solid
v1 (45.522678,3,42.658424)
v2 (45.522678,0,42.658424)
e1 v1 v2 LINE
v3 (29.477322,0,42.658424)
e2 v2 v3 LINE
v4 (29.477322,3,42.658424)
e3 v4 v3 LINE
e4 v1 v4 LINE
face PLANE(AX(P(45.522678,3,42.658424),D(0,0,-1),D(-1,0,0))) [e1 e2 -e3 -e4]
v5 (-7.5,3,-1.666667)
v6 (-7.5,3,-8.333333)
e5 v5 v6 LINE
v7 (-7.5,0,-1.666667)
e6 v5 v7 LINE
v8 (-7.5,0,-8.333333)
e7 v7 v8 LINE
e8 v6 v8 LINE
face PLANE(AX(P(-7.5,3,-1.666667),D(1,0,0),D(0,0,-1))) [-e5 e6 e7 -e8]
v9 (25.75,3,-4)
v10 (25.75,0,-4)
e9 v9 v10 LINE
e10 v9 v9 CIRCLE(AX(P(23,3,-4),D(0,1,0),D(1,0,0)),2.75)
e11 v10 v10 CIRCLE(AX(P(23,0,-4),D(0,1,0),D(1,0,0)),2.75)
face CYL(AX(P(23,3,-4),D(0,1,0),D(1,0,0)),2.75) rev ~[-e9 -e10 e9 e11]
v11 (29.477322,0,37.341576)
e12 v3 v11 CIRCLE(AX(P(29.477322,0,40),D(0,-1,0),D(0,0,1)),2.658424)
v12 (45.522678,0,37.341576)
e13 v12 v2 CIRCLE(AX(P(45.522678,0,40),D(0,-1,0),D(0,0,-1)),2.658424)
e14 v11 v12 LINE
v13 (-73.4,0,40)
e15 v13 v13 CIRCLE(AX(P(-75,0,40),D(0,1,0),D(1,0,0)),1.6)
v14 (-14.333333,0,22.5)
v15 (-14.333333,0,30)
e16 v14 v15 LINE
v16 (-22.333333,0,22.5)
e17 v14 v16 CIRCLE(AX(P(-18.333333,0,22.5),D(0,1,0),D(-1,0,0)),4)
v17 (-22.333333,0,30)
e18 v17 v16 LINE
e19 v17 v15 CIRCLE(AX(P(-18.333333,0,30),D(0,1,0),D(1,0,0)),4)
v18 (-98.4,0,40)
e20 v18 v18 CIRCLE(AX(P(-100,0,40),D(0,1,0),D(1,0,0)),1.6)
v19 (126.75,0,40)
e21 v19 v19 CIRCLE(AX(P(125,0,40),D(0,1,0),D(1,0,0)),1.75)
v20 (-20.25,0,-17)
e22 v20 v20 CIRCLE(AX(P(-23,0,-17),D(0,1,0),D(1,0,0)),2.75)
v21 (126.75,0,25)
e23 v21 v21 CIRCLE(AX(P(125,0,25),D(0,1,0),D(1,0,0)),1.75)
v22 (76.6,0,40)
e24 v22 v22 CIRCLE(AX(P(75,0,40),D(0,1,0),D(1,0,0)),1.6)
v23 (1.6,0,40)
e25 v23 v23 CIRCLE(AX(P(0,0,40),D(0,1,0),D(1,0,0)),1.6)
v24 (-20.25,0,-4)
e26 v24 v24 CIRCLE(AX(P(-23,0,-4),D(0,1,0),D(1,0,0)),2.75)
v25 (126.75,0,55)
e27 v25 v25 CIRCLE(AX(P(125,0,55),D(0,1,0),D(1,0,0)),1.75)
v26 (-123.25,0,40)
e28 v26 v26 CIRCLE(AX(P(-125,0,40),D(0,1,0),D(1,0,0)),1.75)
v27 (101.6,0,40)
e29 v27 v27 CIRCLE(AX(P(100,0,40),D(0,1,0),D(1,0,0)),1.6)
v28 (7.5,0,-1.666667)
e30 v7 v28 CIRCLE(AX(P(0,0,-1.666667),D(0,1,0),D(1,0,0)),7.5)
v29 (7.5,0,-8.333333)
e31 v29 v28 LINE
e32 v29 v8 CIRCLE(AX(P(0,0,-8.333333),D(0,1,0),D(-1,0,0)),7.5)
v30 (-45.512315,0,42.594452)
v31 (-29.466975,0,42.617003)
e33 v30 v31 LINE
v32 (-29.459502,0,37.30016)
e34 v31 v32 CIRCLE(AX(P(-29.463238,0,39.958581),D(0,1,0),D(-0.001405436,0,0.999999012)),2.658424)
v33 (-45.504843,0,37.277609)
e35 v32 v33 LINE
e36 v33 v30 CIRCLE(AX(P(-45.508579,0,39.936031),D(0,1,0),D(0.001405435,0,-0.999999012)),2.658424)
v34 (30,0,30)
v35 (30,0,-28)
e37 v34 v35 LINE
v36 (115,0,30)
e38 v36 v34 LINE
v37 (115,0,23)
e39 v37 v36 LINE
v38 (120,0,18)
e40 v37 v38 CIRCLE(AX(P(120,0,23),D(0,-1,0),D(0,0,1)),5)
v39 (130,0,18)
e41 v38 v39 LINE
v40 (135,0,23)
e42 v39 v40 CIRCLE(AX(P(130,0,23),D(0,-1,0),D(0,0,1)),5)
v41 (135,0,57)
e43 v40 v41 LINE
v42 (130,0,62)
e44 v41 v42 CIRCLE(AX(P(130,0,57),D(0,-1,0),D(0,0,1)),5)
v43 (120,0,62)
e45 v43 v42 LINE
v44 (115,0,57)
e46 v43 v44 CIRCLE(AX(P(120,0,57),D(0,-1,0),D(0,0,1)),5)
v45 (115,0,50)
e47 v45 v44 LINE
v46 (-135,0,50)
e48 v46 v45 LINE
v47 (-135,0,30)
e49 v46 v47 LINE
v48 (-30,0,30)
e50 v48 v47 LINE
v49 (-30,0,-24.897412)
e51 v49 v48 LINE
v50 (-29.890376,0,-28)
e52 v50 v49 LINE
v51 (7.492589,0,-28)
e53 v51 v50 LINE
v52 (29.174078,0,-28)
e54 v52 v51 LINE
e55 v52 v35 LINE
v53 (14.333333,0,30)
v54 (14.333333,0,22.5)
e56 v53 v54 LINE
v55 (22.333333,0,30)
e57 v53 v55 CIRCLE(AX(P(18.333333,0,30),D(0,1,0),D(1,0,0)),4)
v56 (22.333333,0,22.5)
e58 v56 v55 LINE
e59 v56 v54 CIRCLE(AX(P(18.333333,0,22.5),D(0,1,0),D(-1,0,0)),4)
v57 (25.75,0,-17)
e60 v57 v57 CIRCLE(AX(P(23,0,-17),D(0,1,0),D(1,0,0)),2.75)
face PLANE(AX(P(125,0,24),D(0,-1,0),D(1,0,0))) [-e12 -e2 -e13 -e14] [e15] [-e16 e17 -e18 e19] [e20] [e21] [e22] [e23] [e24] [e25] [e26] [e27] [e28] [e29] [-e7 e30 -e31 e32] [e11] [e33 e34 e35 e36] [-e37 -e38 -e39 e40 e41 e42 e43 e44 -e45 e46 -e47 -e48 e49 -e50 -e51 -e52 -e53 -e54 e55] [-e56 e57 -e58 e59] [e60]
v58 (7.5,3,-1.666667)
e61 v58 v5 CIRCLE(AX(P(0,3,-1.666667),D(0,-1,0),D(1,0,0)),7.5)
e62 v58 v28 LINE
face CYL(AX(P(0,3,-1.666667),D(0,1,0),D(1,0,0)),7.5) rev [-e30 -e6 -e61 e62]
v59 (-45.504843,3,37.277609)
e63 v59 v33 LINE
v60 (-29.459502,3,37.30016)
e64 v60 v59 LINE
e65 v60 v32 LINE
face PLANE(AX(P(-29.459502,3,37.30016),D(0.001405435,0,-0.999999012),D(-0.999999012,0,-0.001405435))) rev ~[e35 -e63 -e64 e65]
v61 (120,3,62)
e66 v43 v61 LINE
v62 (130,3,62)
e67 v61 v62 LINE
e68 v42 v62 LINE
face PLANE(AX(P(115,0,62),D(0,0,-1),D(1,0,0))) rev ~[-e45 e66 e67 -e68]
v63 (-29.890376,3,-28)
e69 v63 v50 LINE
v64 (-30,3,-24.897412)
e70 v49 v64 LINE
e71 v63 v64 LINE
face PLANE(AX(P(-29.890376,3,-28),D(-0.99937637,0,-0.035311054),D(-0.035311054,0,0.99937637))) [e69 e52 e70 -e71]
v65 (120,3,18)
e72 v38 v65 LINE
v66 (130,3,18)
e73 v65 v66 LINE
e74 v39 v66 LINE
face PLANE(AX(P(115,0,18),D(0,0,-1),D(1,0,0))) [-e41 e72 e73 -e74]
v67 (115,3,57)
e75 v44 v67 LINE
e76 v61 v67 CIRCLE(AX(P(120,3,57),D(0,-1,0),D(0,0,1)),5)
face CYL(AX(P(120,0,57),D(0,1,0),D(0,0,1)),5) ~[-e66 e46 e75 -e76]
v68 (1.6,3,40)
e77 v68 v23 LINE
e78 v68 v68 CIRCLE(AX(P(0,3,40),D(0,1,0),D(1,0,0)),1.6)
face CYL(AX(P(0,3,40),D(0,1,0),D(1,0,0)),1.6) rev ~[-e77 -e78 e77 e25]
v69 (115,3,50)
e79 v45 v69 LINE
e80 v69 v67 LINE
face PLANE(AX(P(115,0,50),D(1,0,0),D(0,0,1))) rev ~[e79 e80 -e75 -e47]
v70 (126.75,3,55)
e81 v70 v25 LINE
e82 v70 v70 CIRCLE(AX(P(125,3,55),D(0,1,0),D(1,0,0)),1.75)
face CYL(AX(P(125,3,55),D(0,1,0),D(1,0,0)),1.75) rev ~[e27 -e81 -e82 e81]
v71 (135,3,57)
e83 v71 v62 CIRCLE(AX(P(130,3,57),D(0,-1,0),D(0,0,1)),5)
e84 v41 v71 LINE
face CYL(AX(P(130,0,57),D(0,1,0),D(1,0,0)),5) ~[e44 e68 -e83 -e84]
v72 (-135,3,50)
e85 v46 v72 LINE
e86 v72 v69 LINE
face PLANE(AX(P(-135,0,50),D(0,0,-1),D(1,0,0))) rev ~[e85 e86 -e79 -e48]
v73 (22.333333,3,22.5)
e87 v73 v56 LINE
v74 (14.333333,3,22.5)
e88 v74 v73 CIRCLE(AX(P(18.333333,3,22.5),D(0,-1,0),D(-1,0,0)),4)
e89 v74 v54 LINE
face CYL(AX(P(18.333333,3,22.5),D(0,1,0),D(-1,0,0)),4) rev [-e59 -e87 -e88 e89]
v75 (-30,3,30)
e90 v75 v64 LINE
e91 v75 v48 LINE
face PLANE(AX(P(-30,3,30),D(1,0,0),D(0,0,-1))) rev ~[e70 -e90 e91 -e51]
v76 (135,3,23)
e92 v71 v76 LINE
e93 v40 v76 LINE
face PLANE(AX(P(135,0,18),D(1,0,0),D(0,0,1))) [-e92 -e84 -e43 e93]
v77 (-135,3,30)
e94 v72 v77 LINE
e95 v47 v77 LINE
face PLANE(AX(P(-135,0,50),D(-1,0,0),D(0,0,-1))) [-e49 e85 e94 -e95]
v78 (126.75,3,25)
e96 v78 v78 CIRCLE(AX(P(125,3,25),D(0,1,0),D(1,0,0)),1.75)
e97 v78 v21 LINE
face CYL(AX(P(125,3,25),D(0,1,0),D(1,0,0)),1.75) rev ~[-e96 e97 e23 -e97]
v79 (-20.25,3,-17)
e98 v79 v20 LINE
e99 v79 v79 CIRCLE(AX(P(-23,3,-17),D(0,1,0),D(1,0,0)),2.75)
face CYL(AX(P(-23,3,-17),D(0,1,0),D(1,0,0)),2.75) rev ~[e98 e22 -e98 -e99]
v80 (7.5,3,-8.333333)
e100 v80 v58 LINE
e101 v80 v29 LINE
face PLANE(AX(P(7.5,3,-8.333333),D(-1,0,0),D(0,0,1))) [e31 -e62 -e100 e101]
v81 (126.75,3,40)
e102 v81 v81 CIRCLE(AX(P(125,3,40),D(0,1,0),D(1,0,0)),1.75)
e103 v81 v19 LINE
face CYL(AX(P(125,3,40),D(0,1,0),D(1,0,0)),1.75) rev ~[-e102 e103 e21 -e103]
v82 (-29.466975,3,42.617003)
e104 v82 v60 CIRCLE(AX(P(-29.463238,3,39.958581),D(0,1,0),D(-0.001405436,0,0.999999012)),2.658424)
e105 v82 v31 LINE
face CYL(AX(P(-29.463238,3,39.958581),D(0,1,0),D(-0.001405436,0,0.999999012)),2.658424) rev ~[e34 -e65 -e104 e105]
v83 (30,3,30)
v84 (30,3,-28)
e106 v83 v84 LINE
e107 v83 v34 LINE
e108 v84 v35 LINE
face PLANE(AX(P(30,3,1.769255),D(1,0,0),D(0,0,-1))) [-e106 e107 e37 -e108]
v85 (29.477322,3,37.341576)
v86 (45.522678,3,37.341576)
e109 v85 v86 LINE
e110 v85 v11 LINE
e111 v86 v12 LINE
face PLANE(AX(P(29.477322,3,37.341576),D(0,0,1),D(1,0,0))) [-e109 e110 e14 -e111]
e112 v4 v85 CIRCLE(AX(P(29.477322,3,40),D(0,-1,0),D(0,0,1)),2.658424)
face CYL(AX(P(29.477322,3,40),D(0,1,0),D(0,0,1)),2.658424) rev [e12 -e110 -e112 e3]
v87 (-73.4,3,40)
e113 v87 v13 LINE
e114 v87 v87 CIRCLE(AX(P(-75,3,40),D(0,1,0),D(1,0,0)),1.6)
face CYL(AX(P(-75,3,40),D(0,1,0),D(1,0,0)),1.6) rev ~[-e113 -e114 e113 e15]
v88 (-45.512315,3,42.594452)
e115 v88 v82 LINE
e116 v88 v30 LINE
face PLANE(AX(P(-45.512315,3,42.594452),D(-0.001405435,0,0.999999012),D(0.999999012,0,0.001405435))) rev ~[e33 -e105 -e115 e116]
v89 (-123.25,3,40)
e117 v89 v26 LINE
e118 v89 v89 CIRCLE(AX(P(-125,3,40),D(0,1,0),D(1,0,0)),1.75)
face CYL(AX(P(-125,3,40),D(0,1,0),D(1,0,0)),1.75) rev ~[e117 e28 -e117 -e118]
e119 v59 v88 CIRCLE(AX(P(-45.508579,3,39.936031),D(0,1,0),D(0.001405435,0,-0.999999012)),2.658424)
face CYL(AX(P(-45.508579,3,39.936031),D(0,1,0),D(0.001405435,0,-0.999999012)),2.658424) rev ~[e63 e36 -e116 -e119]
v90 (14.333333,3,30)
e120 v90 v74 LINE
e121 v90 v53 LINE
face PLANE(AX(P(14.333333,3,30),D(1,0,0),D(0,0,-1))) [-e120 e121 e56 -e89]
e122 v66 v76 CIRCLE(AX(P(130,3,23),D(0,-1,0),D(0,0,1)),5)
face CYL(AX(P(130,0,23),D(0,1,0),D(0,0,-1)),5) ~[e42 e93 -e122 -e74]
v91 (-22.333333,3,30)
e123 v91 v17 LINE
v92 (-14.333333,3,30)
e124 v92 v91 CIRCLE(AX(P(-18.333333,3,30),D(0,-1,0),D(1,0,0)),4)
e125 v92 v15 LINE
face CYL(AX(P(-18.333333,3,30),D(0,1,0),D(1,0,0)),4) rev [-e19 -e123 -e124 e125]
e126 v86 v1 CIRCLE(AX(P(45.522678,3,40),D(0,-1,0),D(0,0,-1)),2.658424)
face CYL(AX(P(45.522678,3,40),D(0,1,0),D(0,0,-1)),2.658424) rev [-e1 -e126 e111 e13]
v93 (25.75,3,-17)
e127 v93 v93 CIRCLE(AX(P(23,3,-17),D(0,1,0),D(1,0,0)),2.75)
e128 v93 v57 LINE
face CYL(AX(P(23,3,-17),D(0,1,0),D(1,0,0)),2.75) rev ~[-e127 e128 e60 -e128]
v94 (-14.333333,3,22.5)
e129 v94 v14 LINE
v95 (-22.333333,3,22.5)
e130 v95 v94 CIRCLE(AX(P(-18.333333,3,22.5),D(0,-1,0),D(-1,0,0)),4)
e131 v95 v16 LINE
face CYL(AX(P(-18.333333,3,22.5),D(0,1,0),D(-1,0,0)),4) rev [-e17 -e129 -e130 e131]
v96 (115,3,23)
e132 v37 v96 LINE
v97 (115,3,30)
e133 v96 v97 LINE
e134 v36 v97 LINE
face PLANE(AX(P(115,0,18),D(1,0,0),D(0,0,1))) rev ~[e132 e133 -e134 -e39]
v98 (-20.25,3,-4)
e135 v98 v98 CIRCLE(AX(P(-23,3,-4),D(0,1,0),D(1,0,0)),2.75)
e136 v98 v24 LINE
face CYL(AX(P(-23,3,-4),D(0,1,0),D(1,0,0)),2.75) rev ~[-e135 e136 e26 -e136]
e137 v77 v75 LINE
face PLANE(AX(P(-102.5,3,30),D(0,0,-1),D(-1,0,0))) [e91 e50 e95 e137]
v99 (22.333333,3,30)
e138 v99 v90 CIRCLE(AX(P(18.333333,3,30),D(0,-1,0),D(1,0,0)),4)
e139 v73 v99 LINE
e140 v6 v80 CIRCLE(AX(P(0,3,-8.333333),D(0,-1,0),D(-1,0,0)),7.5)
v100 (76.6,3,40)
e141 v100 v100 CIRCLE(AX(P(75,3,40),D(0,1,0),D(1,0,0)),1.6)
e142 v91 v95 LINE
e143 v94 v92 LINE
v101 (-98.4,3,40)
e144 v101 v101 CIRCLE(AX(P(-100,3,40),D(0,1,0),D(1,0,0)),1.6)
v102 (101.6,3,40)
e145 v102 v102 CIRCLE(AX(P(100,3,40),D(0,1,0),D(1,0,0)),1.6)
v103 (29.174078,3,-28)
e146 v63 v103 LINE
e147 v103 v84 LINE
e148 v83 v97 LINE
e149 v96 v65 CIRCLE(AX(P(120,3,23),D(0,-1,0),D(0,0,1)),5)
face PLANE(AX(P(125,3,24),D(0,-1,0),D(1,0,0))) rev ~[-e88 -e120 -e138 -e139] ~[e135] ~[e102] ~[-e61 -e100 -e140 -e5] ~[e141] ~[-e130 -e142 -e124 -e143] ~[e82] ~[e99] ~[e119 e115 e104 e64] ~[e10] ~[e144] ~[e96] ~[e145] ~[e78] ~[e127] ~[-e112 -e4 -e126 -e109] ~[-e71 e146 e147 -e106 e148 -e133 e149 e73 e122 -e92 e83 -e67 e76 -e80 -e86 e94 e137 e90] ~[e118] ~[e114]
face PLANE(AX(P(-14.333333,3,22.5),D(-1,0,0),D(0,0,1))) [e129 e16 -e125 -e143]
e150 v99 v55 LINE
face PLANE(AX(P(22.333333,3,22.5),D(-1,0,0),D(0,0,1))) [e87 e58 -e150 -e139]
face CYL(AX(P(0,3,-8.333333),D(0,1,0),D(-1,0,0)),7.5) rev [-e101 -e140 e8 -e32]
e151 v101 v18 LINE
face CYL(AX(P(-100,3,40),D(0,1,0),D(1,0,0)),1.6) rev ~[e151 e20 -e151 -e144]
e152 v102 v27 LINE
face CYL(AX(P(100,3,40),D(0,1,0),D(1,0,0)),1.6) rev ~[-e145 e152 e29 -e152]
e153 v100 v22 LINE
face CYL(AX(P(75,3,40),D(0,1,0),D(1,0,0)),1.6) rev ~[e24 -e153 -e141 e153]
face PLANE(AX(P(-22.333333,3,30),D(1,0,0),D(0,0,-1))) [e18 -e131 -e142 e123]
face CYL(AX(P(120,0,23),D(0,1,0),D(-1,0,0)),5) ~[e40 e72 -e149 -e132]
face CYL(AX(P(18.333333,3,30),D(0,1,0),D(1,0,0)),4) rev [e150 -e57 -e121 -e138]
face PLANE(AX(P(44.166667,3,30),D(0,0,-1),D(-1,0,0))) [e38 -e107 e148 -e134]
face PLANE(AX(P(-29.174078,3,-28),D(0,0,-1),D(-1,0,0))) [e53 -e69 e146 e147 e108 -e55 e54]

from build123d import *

# Parameters (mm, degrees)
SKETCH_1_W          = 270
SKETCH_1_H          = 100
EXTRUDE_1_DEPTH     = 3
SKETCH_2_R          = 1.6
SKETCH_2_R_2        = 1.75
CUT_EXTRUDE_1_DEPTH = 3
CUT_EXTRUDE_2_DEPTH = 10
SKETCH_5_R          = 2.75
CUT_EXTRUDE_3_DEPTH = 10
SKETCH_6_W          = 60
SKETCH_6_H          = 22
CUT_EXTRUDE_4_DEPTH = 10
EXTRUDE_2_DEPTH     = 3
EXTRUDE_3_DEPTH     = 3
EXTRUDE_4_DEPTH     = 3
EXTRUDE_6_DEPTH     = 3
EXTRUDE_7_DEPTH     = 3
SKETCH_13_W         = 0.825922264
SKETCH_13_H         = 3.102588021
EXTRUDE_8_DEPTH     = 3
EXTRUDE_9_DEPTH     = 3
EXTRUDE_10_DEPTH    = 3
SKETCH_16_W         = 8
SKETCH_16_H         = 5.433103104
EXTRUDE_11_DEPTH    = 3
EXTRUDE_12_DEPTH    = 3
SKETCH_18_W         = 1.102641526
SKETCH_18_H         = 13.538509376
EXTRUDE_13_DEPTH    = 3
EXTRUDE_14_DEPTH    = 3
EXTRUDE_15_DEPTH    = 3
EXTRUDE_16_DEPTH    = 3
EXTRUDE_17_DEPTH    = 3
CUT_EXTRUDE_5_DEPTH = 3
SKETCH_24_W         = 20
SKETCH_24_H         = 12
EXTRUDE_18_DEPTH    = 3
SKETCH_25_W         = 20
SKETCH_25_H         = 12
EXTRUDE_19_DEPTH    = 3
SKETCH_26_R         = 1.75
CUT_EXTRUDE_6_DEPTH = 4
FILLET_1_R          = 5


with BuildPart() as part:
    # 草图1 → 凸台-拉伸1 (new body)
    with BuildSketch(Plane(origin=(0, 0, 0), x_dir=(1, 0, 0), z_dir=(0, 1, 0))):
        Rectangle(SKETCH_1_W, SKETCH_1_H)
    extrude(amount=EXTRUDE_1_DEPTH)

    # 草图2 → 切除-拉伸1 (cut)
    with BuildSketch(Plane(origin=(0, 3, 0), x_dir=(1, 0, 0), z_dir=(0, 1, 0))):
        with Locations((-125, 40)):
            Circle(SKETCH_2_R)
        with Locations((-125, 0)):
            Circle(SKETCH_2_R)
        with Locations((125, 0)):
            Circle(SKETCH_2_R)
        with Locations((125, 40)):
            Circle(SKETCH_2_R)
        with Locations((-125, -40)):
            Circle(SKETCH_2_R_2)
        with Locations((-100, -40)):
            Circle(SKETCH_2_R)
        with Locations((-75, -40)):
            Circle(SKETCH_2_R)
        with Locations((0, -40)):
            Circle(SKETCH_2_R)
        with Locations((75, -40)):
            Circle(SKETCH_2_R)
        with Locations((100, -40)):
            Circle(SKETCH_2_R)
        with Locations((125, -40)):
            Circle(SKETCH_2_R_2)
    extrude(amount=-CUT_EXTRUDE_1_DEPTH, mode=Mode.SUBTRACT)

    # 草图4 → 切除-拉伸2 (cut)
    with BuildSketch(Plane(origin=(0, 3, 0), x_dir=(1, 0, 0), z_dir=(0, 1, 0))):
        with BuildLine():
            Line((102.5, -30), (102.5, -23.333333333))
            ThreePointArc((102.5, -23.333333333), (110, -15.833333333), (117.5, -23.333333333))
            Line((117.5, -23.333333333), (117.5, -30))
            ThreePointArc((117.5, -30), (110, -37.5), (102.5, -30))
        make_face()
        with BuildLine():
            Line((102.5, 1.666666667), (102.5, 8.333333333))
            ThreePointArc((102.5, 8.333333333), (110, 15.833333333), (117.5, 8.333333333))
            Line((117.5, 8.333333333), (117.5, 1.666666667))
            ThreePointArc((117.5, 1.666666667), (110, -5.833333333), (102.5, 1.666666667))
        make_face()
        with BuildLine():
            Line((102.5, 28.333333333), (102.5, 35))
            ThreePointArc((102.5, 35), (110, 42.5), (117.5, 35))
            Line((117.5, 35), (117.5, 28.333333333))
            ThreePointArc((117.5, 28.333333333), (110, 20.833333333), (102.5, 28.333333333))
        make_face()
        with BuildLine():
            Line((87.666666667, -30), (87.666666667, -22.5))
            ThreePointArc((87.666666667, -22.5), (91.666666667, -18.5), (95.666666667, -22.5))
            Line((95.666666667, -22.5), (95.666666667, -30))
            ThreePointArc((95.666666667, -30), (91.666666667, -34), (87.666666667, -30))
        make_face()
        with BuildLine():
            Line((87.666666667, -10.5), (87.666666667, -6.5))
            ThreePointArc((87.666666667, -6.5), (91.666666667, -2.5), (95.666666667, -6.5))
            Line((95.666666667, -6.5), (95.666666667, -10.5))
            ThreePointArc((95.666666667, -10.5), (91.666666667, -14.5), (87.666666667, -10.5))
        make_face()
        with BuildLine():
            Line((87.666666667, 8.5), (87.666666667, 12.5))
            ThreePointArc((87.666666667, 12.5), (91.666666667, 16.5), (95.666666667, 12.5))
            Line((95.666666667, 12.5), (95.666666667, 8.5))
            ThreePointArc((95.666666667, 8.5), (91.666666667, 4.5), (87.666666667, 8.5))
        make_face()
        with BuildLine():
            Line((95.666666667, 35), (95.666666667, 27.5))
            ThreePointArc((95.666666667, 27.5), (91.666666667, 23.5), (87.666666667, 27.5))
            Line((87.666666667, 27.5), (87.666666667, 35))
            ThreePointArc((87.666666667, 35), (91.666666667, 39), (95.666666667, 35))
        make_face()
        with BuildLine():
            Line((65.833333333, 1.666666667), (65.833333333, 8.333333333))
            ThreePointArc((65.833333333, 8.333333333), (73.333333333, 15.833333333), (80.833333333, 8.333333333))
            Line((80.833333333, 8.333333333), (80.833333333, 1.666666667))
            ThreePointArc((80.833333333, 1.666666667), (73.333333333, -5.833333333), (65.833333333, 1.666666667))
        make_face()
        with BuildLine():
            Line((65.833333333, 28.333333333), (65.833333333, 35))
            ThreePointArc((65.833333333, 35), (73.333333333, 42.5), (80.833333333, 35))
            Line((80.833333333, 35), (80.833333333, 28.333333333))
            ThreePointArc((80.833333333, 28.333333333), (73.333333333, 20.833333333), (65.833333333, 28.333333333))
        make_face()
        with BuildLine():
            Line((51, -30), (51, -22.5))
            ThreePointArc((51, -22.5), (55, -18.5), (59, -22.5))
            Line((59, -22.5), (59, -30))
            ThreePointArc((59, -30), (55, -34), (51, -30))
        make_face()
        with BuildLine():
            Line((51, -10.5), (51, -6.5))
            ThreePointArc((51, -6.5), (55, -2.5), (59, -6.5))
            Line((59, -6.5), (59, -10.5))
            ThreePointArc((59, -10.5), (55, -14.5), (51, -10.5))
        make_face()
        with BuildLine():
            Line((51, 8.5), (51, 12.5))
            ThreePointArc((51, 12.5), (55, 16.5), (59, 12.5))
            Line((59, 12.5), (59, 8.5))
            ThreePointArc((59, 8.5), (55, 4.5), (51, 8.5))
        make_face()
        with BuildLine():
            Line((59, 35), (59, 27.5))
            ThreePointArc((59, 27.5), (55, 23.5), (51, 27.5))
            Line((51, 27.5), (51, 35))
            ThreePointArc((51, 35), (55, 39), (59, 35))
        make_face()
        with BuildLine():
            Line((29.166666667, -30), (29.166666667, -23.333333333))
            ThreePointArc((29.166666667, -23.333333333), (36.666666667, -15.833333333), (44.166666667, -23.333333333))
            Line((44.166666667, -23.333333333), (44.166666667, -30))
            ThreePointArc((44.166666667, -30), (36.666666667, -37.5), (29.166666667, -30))
        make_face()
        with BuildLine():
            Line((29.166666667, 1.666666667), (29.166666667, 8.333333333))
            ThreePointArc((29.166666667, 8.333333333), (36.666666667, 15.833333333), (44.166666667, 8.333333333))
            Line((44.166666667, 8.333333333), (44.166666667, 1.666666667))
            ThreePointArc((44.166666667, 1.666666667), (36.666666667, -5.833333333), (29.166666667, 1.666666667))
        make_face()
        with BuildLine():
            Line((29.166666667, 28.333333333), (29.166666667, 35))
            ThreePointArc((29.166666667, 35), (36.666666667, 42.5), (44.166666667, 35))
            Line((44.166666667, 35), (44.166666667, 28.333333333))
            ThreePointArc((44.166666667, 28.333333333), (36.666666667, 20.833333333), (29.166666667, 28.333333333))
        make_face()
        with BuildLine():
            Line((14.333333333, -30), (14.333333333, -22.5))
            ThreePointArc((14.333333333, -22.5), (18.333333333, -18.5), (22.333333333, -22.5))
            Line((22.333333333, -22.5), (22.333333333, -30))
            ThreePointArc((22.333333333, -30), (18.333333333, -34), (14.333333333, -30))
        make_face()
        with BuildLine():
            Line((22.333333333, 35), (22.333333333, 27.5))
            ThreePointArc((22.333333333, 27.5), (18.333333333, 23.5), (14.333333333, 27.5))
            Line((14.333333333, 27.5), (14.333333333, 35))
            ThreePointArc((14.333333333, 35), (18.333333333, 39), (22.333333333, 35))
        make_face()
        with BuildLine():
            Line((-7.5, 1.666666667), (-7.5, 8.333333333))
            ThreePointArc((-7.5, 8.333333333), (0, 15.833333333), (7.5, 8.333333333))
            Line((7.5, 8.333333333), (7.5, 1.666666667))
            ThreePointArc((7.5, 1.666666667), (0, -5.833333333), (-7.5, 1.666666667))
        make_face()
        with BuildLine():
            Line((-7.5, 28.333333333), (-7.5, 35))
            ThreePointArc((-7.5, 35), (0, 42.5), (7.5, 35))
            Line((7.5, 35), (7.5, 28.333333333))
            ThreePointArc((7.5, 28.333333333), (0, 20.833333333), (-7.5, 28.333333333))
        make_face()
        with BuildLine():
            Line((-22.333333333, -30), (-22.333333333, -22.5))
            ThreePointArc((-22.333333333, -22.5), (-18.333333333, -18.5), (-14.333333333, -22.5))
            Line((-14.333333333, -22.5), (-14.333333333, -30))
            ThreePointArc((-14.333333333, -30), (-18.333333333, -34), (-22.333333333, -30))
        make_face()
        with BuildLine():
            Line((-14.333333333, 35), (-14.333333333, 27.5))
            ThreePointArc((-14.333333333, 27.5), (-18.333333333, 23.5), (-22.333333333, 27.5))
            Line((-22.333333333, 27.5), (-22.333333333, 35))
            ThreePointArc((-22.333333333, 35), (-18.333333333, 39), (-14.333333333, 35))
        make_face()
        with BuildLine():
            Line((-44.166666667, -30), (-44.166666667, -23.333333333))
            ThreePointArc((-44.166666667, -23.333333333), (-36.666666667, -15.833333333), (-29.166666667, -23.333333333))
            Line((-29.166666667, -23.333333333), (-29.166666667, -30))
            ThreePointArc((-29.166666667, -30), (-36.666666667, -37.5), (-44.166666667, -30))
        make_face()
        with BuildLine():
            Line((-44.166666667, 1.666666667), (-44.166666667, 8.333333333))
            ThreePointArc((-44.166666667, 8.333333333), (-36.666666667, 15.833333333), (-29.166666667, 8.333333333))
            Line((-29.166666667, 8.333333333), (-29.166666667, 1.666666667))
            ThreePointArc((-29.166666667, 1.666666667), (-36.666666667, -5.833333333), (-44.166666667, 1.666666667))
        make_face()
        with BuildLine():
            Line((-44.166666667, 28.333333333), (-44.166666667, 35))
            ThreePointArc((-44.166666667, 35), (-36.666666667, 42.5), (-29.166666667, 35))
            Line((-29.166666667, 35), (-29.166666667, 28.333333333))
            ThreePointArc((-29.166666667, 28.333333333), (-36.666666667, 20.833333333), (-44.166666667, 28.333333333))
        make_face()
        with BuildLine():
            Line((-59, -30), (-59, -22.5))
            ThreePointArc((-59, -22.5), (-55, -18.5), (-51, -22.5))
            Line((-51, -22.5), (-51, -30))
            ThreePointArc((-51, -30), (-55, -34), (-59, -30))
        make_face()
        with BuildLine():
            Line((-59, -10.5), (-59, -6.5))
            ThreePointArc((-59, -6.5), (-55, -2.5), (-51, -6.5))
            Line((-51, -6.5), (-51, -10.5))
            ThreePointArc((-51, -10.5), (-55, -14.5), (-59, -10.5))
        make_face()
        with BuildLine():
            Line((-59, 8.5), (-59, 12.5))
            ThreePointArc((-59, 12.5), (-55, 16.5), (-51, 12.5))
            Line((-51, 12.5), (-51, 8.5))
            ThreePointArc((-51, 8.5), (-55, 4.5), (-59, 8.5))
        make_face()
        with BuildLine():
            Line((-51, 35), (-51, 27.5))
            ThreePointArc((-51, 27.5), (-55, 23.5), (-59, 27.5))
            Line((-59, 27.5), (-59, 35))
            ThreePointArc((-59, 35), (-55, 39), (-51, 35))
        make_face()
        with BuildLine():
            Line((-80.833333333, 1.666666667), (-80.833333333, 8.333333333))
            ThreePointArc((-80.833333333, 8.333333333), (-73.333333333, 15.833333333), (-65.833333333, 8.333333333))
            Line((-65.833333333, 8.333333333), (-65.833333333, 1.666666667))
            ThreePointArc((-65.833333333, 1.666666667), (-73.333333333, -5.833333333), (-80.833333333, 1.666666667))
        make_face()
        with BuildLine():
            Line((-80.833333333, 28.333333333), (-80.833333333, 35))
            ThreePointArc((-80.833333333, 35), (-73.333333333, 42.5), (-65.833333333, 35))
            Line((-65.833333333, 35), (-65.833333333, 28.333333333))
            ThreePointArc((-65.833333333, 28.333333333), (-73.333333333, 20.833333333), (-80.833333333, 28.333333333))
        make_face()
        with BuildLine():
            Line((-95.666666667, -30), (-95.666666667, -22.5))
            ThreePointArc((-95.666666667, -22.5), (-91.666666667, -18.5), (-87.666666667, -22.5))
            Line((-87.666666667, -22.5), (-87.666666667, -30))
            ThreePointArc((-87.666666667, -30), (-91.666666667, -34), (-95.666666667, -30))
        make_face()
        with BuildLine():
            Line((-95.666666667, -10.5), (-95.666666667, -6.5))
            ThreePointArc((-95.666666667, -6.5), (-91.666666667, -2.5), (-87.666666667, -6.5))
            Line((-87.666666667, -6.5), (-87.666666667, -10.5))
            ThreePointArc((-87.666666667, -10.5), (-91.666666667, -14.5), (-95.666666667, -10.5))
        make_face()
        with BuildLine():
            Line((-95.666666667, 8.5), (-95.666666667, 12.5))
            ThreePointArc((-95.666666667, 12.5), (-91.666666667, 16.5), (-87.666666667, 12.5))
            Line((-87.666666667, 12.5), (-87.666666667, 8.5))
            ThreePointArc((-87.666666667, 8.5), (-91.666666667, 4.5), (-95.666666667, 8.5))
        make_face()
        with BuildLine():
            Line((-87.666666667, 35), (-87.666666667, 27.5))
            ThreePointArc((-87.666666667, 27.5), (-91.666666667, 23.5), (-95.666666667, 27.5))
            Line((-95.666666667, 27.5), (-95.666666667, 35))
            ThreePointArc((-95.666666667, 35), (-91.666666667, 39), (-87.666666667, 35))
        make_face()
        with BuildLine():
            Line((-102.5, -30), (-102.5, -23.333333333))
            ThreePointArc((-102.5, -23.333333333), (-110, -15.833333333), (-117.5, -23.333333333))
            Line((-117.5, -23.333333333), (-117.5, -30))
            ThreePointArc((-117.5, -30), (-110, -37.5), (-102.5, -30))
        make_face()
        with BuildLine():
            Line((-102.5, 1.666666667), (-102.5, 8.333333333))
            ThreePointArc((-102.5, 8.333333333), (-110, 15.833333333), (-117.5, 8.333333333))
            Line((-117.5, 8.333333333), (-117.5, 1.666666667))
            ThreePointArc((-117.5, 1.666666667), (-110, -5.833333333), (-102.5, 1.666666667))
        make_face()
        with BuildLine():
            Line((-102.5, 28.333333333), (-102.5, 35))
            ThreePointArc((-102.5, 35), (-110, 42.5), (-117.5, 35))
            Line((-117.5, 35), (-117.5, 28.333333333))
            ThreePointArc((-117.5, 28.333333333), (-110, 20.833333333), (-102.5, 28.333333333))
        make_face()
    extrude(amount=-CUT_EXTRUDE_2_DEPTH, mode=Mode.SUBTRACT)

    # 草图5 → 切除-拉伸3 (cut)
    with BuildSketch(Plane(origin=(0, 3, 0), x_dir=(1, 0, 0), z_dir=(0, 1, 0))):
        with Locations((23, 17)):
            Circle(SKETCH_5_R)
        with Locations((23, 4)):
            Circle(SKETCH_5_R)
        with Locations((-23, 17)):
            Circle(SKETCH_5_R)
        with Locations((-23, 4)):
            Circle(SKETCH_5_R)
    extrude(amount=-CUT_EXTRUDE_3_DEPTH, mode=Mode.SUBTRACT)

    # 草图6 → 切除-拉伸4 (cut)
    with BuildSketch(Plane.XZ):
        Polygon((-135, -50), (-30, -50), (-30, -28), (-30, 30), (-135, 30), align=None)
        with Locations((0, -39)):
            Rectangle(SKETCH_6_W, SKETCH_6_H)
        Polygon((30, -28), (30, -50), (135, -50), (135, 30), (30, 30), align=None)
    extrude(amount=-CUT_EXTRUDE_4_DEPTH, mode=Mode.SUBTRACT)

    # 草图8 → 凸台-拉伸2 (add)
    with BuildSketch(Plane(origin=(0, 3, 0), x_dir=(1, 0, 0), z_dir=(0, 1, 0))):
        with BuildLine():
            Line((117.5, -30), (102.5, -30))
            ThreePointArc((102.5, -30), (110, -37.5), (117.5, -30))
        make_face()
    extrude(amount=-EXTRUDE_2_DEPTH)

    # 草图9 → 凸台-拉伸3 (add)
    with BuildSketch(Plane(origin=(0, 3, 0), x_dir=(1, 0, 0), z_dir=(0, 1, 0))):
        with BuildLine():
            Line((95.666666667, -30), (87.666666667, -30))
            ThreePointArc((87.666666667, -30), (91.666666667, -34), (95.666666667, -30))
        make_face()
    extrude(amount=-EXTRUDE_3_DEPTH)

    # 草图10 → 凸台-拉伸4 (add)
    with BuildSketch(Plane(origin=(0, 3, 0), x_dir=(1, 0, 0), z_dir=(0, 1, 0))):
        with BuildLine():
            Line((59, -30), (51, -30))
            ThreePointArc((51, -30), (55, -34), (59, -30))
        make_face()
    extrude(amount=-EXTRUDE_4_DEPTH)

    # 草图11 → 凸台-拉伸6 (add)
    with BuildSketch(Plane(origin=(0, 3, 0), x_dir=(1, 0, 0), z_dir=(0, 1, 0))):
        with BuildLine():
            Line((44.166666667, -30), (30, -30))
            Line((30, -30), (30, -19.897411979))
            Line((30, -19.897411979), (28.752910613, -21.894285676))
            Line((28.752910613, -21.894285676), (29.166666667, -30))
            ThreePointArc((29.166666667, -30), (36.666666667, -37.5), (44.166666667, -30))
        make_face()
    extrude(amount=-EXTRUDE_6_DEPTH)

    # 草图12 → 凸台-拉伸7 (add)
    with BuildSketch(Plane(origin=(0, 3, 0), x_dir=(1, 0, 0), z_dir=(0, 1, 0))):
        Polygon((30, -1.769254688), (30, 11.769254688), (29.039963262, 10.134277789), (28.809927387, -1.769254688), align=None)
    extrude(amount=-EXTRUDE_7_DEPTH)

    # 草图13 → 凸台-拉伸8 (add)
    with BuildSketch(Plane(origin=(0, 3, 0), x_dir=(1, 0, 0), z_dir=(0, 1, 0))):
        with Locations((29.587038868, 26.448705989)):
            Rectangle(SKETCH_13_W, SKETCH_13_H)
    extrude(amount=-EXTRUDE_8_DEPTH)

    # 草图14 → 凸台-拉伸9 (add)
    with BuildSketch(Plane(origin=(0, 3, 0), x_dir=(1, 0, 0), z_dir=(0, 1, 0))):
        Polygon((22.333333333, 28), (14.333333333, 28), (14.17115612, 22.861418701), (22.333333333, 22.861418701), align=None)
    extrude(amount=-EXTRUDE_9_DEPTH)

    # 草图15 → 凸台-拉伸10 (add)
    with BuildSketch(Plane(origin=(0, 3, 0), x_dir=(1, 0, 0), z_dir=(0, 1, 0))):
        with BuildLine():
            Line((7.492588931, 28), (-7.492588931, 28))
            ThreePointArc((-7.492588931, 28), (0, 20.507411069), (7.492588931, 28))
        make_face()
    extrude(amount=-EXTRUDE_10_DEPTH)

    # 草图16 → 凸台-拉伸11 (add)
    with BuildSketch(Plane(origin=(0, 3, 0), x_dir=(1, 0, 0), z_dir=(0, 1, 0))):
        with Locations((-18.333333333, 25.283448448)):
            Rectangle(SKETCH_16_W, SKETCH_16_H)
    extrude(amount=-EXTRUDE_11_DEPTH)

    # 草图17 → 凸台-拉伸12 (add)
    with BuildSketch(Plane(origin=(0, 3, 0), x_dir=(1, 0, 0), z_dir=(0, 1, 0))):
        Polygon((-29.174077736, 28), (-29.890375981, 28), (-30, 24.897411979), (-29.174077736, 24.897411979), align=None)
    extrude(amount=-EXTRUDE_12_DEPTH)

    # 草图18 → 凸台-拉伸13 (add)
    with BuildSketch(Plane(origin=(0, 3, 0), x_dir=(1, 0, 0), z_dir=(0, 1, 0))):
        with Locations((-29.448679237, 5)):
            Rectangle(SKETCH_18_W, SKETCH_18_H)
    extrude(amount=-EXTRUDE_13_DEPTH)

    # 草图19 → 凸台-拉伸14 (add)
    with BuildSketch(Plane(origin=(0, 3, 0), x_dir=(1, 0, 0), z_dir=(0, 1, 0))):
        with BuildLine():
            Line((-44.166666667, -30), (-30, -30))
            Line((-30, -30), (-30, -19.897411979))
            Line((-30, -19.897411979), (-29.166666667, -19.897411979))
            Line((-29.166666667, -19.897411979), (-29.166666667, -30))
            ThreePointArc((-29.166666667, -30), (-36.666666667, -37.5), (-44.166666667, -30))
        make_face()
    extrude(amount=-EXTRUDE_14_DEPTH)

    # 草图20 → 凸台-拉伸15 (add)
    with BuildSketch(Plane(origin=(0, 3, 0), x_dir=(1, 0, 0), z_dir=(0, 1, 0))):
        with BuildLine():
            Line((-51, -30), (-59, -30))
            ThreePointArc((-59, -30), (-55, -34), (-51, -30))
        make_face()
    extrude(amount=-EXTRUDE_15_DEPTH)

    # 草图21 → 凸台-拉伸16 (add)
    with BuildSketch(Plane(origin=(0, 3, 0), x_dir=(1, 0, 0), z_dir=(0, 1, 0))):
        with BuildLine():
            Line((-87.666666667, -30), (-95.666666667, -30))
            ThreePointArc((-95.666666667, -30), (-91.666666667, -34), (-87.666666667, -30))
        make_face()
    extrude(amount=-EXTRUDE_16_DEPTH)

    # 草图22 → 凸台-拉伸17 (add)
    with BuildSketch(Plane(origin=(0, 3, 0), x_dir=(1, 0, 0), z_dir=(0, 1, 0))):
        with BuildLine():
            Line((-102.5, -30), (-117.5, -30))
            ThreePointArc((-117.5, -30), (-110, -37.5), (-102.5, -30))
        make_face()
    extrude(amount=-EXTRUDE_17_DEPTH)

    # 草图23 → 切除-拉伸5 (cut)
    with BuildSketch(Plane(origin=(0, 3, 0), x_dir=(1, 0, 0), z_dir=(0, 1, 0))):
        with BuildLine():
            Line((45.522678084, -42.658423831), (29.477321916, -42.658423831))
            ThreePointArc((29.477321916, -42.658423831), (26.818898085, -40), (29.477321916, -37.341576169))
            Line((29.477321916, -37.341576169), (45.522678084, -37.341576169))
            ThreePointArc((45.522678084, -37.341576169), (48.181101915, -40), (45.522678084, -42.658423831))
        make_face()
        with BuildLine():
            Line((-45.512315013, -42.594451897), (-29.466974692, -42.617002609))
            ThreePointArc((-29.466974692, -42.617002609), (-26.804817243, -39.962317646), (-29.459502206, -37.300160198))
            Line((-29.459502206, -37.300160198), (-45.504842527, -37.277609485))
            ThreePointArc((-45.504842527, -37.277609485), (-48.166999976, -39.932294448), (-45.512315013, -42.594451897))
        make_face()
    extrude(amount=-CUT_EXTRUDE_5_DEPTH, mode=Mode.SUBTRACT)

    # 草图24 → 凸台-拉伸18 (add)
    with BuildSketch(Plane.XZ):
        with Locations((125, 56)):
            Rectangle(SKETCH_24_W, SKETCH_24_H)
    extrude(amount=-EXTRUDE_18_DEPTH)

    # 草图25 → 凸台-拉伸19 (add)
    with BuildSketch(Plane.XZ):
        with Locations((125, 24)):
            Rectangle(SKETCH_25_W, SKETCH_25_H)
    extrude(amount=-EXTRUDE_19_DEPTH)

    # 草图26 → 切除-拉伸6 (cut, through all)
    with BuildSketch(Plane(origin=(0, 3, 0), x_dir=(1, 0, 0), z_dir=(0, 1, 0))):
        with Locations((125, -55)):
            Circle(SKETCH_26_R)
        with Locations((125, -25)):
            Circle(SKETCH_26_R)
    extrude(amount=-CUT_EXTRUDE_6_DEPTH, mode=Mode.SUBTRACT)

    # 圆角1
    fillet_1_edges = [part.edges().sort_by_distance(p)[0] for p in [
        (135, 1.5, 62),
        (115, 1.5, 62),
        (115, 1.5, 18),
        (135, 1.5, 18),
    ]]
    fillet(fillet_1_edges, radius=FILLET_1_R)


solid = part.part
